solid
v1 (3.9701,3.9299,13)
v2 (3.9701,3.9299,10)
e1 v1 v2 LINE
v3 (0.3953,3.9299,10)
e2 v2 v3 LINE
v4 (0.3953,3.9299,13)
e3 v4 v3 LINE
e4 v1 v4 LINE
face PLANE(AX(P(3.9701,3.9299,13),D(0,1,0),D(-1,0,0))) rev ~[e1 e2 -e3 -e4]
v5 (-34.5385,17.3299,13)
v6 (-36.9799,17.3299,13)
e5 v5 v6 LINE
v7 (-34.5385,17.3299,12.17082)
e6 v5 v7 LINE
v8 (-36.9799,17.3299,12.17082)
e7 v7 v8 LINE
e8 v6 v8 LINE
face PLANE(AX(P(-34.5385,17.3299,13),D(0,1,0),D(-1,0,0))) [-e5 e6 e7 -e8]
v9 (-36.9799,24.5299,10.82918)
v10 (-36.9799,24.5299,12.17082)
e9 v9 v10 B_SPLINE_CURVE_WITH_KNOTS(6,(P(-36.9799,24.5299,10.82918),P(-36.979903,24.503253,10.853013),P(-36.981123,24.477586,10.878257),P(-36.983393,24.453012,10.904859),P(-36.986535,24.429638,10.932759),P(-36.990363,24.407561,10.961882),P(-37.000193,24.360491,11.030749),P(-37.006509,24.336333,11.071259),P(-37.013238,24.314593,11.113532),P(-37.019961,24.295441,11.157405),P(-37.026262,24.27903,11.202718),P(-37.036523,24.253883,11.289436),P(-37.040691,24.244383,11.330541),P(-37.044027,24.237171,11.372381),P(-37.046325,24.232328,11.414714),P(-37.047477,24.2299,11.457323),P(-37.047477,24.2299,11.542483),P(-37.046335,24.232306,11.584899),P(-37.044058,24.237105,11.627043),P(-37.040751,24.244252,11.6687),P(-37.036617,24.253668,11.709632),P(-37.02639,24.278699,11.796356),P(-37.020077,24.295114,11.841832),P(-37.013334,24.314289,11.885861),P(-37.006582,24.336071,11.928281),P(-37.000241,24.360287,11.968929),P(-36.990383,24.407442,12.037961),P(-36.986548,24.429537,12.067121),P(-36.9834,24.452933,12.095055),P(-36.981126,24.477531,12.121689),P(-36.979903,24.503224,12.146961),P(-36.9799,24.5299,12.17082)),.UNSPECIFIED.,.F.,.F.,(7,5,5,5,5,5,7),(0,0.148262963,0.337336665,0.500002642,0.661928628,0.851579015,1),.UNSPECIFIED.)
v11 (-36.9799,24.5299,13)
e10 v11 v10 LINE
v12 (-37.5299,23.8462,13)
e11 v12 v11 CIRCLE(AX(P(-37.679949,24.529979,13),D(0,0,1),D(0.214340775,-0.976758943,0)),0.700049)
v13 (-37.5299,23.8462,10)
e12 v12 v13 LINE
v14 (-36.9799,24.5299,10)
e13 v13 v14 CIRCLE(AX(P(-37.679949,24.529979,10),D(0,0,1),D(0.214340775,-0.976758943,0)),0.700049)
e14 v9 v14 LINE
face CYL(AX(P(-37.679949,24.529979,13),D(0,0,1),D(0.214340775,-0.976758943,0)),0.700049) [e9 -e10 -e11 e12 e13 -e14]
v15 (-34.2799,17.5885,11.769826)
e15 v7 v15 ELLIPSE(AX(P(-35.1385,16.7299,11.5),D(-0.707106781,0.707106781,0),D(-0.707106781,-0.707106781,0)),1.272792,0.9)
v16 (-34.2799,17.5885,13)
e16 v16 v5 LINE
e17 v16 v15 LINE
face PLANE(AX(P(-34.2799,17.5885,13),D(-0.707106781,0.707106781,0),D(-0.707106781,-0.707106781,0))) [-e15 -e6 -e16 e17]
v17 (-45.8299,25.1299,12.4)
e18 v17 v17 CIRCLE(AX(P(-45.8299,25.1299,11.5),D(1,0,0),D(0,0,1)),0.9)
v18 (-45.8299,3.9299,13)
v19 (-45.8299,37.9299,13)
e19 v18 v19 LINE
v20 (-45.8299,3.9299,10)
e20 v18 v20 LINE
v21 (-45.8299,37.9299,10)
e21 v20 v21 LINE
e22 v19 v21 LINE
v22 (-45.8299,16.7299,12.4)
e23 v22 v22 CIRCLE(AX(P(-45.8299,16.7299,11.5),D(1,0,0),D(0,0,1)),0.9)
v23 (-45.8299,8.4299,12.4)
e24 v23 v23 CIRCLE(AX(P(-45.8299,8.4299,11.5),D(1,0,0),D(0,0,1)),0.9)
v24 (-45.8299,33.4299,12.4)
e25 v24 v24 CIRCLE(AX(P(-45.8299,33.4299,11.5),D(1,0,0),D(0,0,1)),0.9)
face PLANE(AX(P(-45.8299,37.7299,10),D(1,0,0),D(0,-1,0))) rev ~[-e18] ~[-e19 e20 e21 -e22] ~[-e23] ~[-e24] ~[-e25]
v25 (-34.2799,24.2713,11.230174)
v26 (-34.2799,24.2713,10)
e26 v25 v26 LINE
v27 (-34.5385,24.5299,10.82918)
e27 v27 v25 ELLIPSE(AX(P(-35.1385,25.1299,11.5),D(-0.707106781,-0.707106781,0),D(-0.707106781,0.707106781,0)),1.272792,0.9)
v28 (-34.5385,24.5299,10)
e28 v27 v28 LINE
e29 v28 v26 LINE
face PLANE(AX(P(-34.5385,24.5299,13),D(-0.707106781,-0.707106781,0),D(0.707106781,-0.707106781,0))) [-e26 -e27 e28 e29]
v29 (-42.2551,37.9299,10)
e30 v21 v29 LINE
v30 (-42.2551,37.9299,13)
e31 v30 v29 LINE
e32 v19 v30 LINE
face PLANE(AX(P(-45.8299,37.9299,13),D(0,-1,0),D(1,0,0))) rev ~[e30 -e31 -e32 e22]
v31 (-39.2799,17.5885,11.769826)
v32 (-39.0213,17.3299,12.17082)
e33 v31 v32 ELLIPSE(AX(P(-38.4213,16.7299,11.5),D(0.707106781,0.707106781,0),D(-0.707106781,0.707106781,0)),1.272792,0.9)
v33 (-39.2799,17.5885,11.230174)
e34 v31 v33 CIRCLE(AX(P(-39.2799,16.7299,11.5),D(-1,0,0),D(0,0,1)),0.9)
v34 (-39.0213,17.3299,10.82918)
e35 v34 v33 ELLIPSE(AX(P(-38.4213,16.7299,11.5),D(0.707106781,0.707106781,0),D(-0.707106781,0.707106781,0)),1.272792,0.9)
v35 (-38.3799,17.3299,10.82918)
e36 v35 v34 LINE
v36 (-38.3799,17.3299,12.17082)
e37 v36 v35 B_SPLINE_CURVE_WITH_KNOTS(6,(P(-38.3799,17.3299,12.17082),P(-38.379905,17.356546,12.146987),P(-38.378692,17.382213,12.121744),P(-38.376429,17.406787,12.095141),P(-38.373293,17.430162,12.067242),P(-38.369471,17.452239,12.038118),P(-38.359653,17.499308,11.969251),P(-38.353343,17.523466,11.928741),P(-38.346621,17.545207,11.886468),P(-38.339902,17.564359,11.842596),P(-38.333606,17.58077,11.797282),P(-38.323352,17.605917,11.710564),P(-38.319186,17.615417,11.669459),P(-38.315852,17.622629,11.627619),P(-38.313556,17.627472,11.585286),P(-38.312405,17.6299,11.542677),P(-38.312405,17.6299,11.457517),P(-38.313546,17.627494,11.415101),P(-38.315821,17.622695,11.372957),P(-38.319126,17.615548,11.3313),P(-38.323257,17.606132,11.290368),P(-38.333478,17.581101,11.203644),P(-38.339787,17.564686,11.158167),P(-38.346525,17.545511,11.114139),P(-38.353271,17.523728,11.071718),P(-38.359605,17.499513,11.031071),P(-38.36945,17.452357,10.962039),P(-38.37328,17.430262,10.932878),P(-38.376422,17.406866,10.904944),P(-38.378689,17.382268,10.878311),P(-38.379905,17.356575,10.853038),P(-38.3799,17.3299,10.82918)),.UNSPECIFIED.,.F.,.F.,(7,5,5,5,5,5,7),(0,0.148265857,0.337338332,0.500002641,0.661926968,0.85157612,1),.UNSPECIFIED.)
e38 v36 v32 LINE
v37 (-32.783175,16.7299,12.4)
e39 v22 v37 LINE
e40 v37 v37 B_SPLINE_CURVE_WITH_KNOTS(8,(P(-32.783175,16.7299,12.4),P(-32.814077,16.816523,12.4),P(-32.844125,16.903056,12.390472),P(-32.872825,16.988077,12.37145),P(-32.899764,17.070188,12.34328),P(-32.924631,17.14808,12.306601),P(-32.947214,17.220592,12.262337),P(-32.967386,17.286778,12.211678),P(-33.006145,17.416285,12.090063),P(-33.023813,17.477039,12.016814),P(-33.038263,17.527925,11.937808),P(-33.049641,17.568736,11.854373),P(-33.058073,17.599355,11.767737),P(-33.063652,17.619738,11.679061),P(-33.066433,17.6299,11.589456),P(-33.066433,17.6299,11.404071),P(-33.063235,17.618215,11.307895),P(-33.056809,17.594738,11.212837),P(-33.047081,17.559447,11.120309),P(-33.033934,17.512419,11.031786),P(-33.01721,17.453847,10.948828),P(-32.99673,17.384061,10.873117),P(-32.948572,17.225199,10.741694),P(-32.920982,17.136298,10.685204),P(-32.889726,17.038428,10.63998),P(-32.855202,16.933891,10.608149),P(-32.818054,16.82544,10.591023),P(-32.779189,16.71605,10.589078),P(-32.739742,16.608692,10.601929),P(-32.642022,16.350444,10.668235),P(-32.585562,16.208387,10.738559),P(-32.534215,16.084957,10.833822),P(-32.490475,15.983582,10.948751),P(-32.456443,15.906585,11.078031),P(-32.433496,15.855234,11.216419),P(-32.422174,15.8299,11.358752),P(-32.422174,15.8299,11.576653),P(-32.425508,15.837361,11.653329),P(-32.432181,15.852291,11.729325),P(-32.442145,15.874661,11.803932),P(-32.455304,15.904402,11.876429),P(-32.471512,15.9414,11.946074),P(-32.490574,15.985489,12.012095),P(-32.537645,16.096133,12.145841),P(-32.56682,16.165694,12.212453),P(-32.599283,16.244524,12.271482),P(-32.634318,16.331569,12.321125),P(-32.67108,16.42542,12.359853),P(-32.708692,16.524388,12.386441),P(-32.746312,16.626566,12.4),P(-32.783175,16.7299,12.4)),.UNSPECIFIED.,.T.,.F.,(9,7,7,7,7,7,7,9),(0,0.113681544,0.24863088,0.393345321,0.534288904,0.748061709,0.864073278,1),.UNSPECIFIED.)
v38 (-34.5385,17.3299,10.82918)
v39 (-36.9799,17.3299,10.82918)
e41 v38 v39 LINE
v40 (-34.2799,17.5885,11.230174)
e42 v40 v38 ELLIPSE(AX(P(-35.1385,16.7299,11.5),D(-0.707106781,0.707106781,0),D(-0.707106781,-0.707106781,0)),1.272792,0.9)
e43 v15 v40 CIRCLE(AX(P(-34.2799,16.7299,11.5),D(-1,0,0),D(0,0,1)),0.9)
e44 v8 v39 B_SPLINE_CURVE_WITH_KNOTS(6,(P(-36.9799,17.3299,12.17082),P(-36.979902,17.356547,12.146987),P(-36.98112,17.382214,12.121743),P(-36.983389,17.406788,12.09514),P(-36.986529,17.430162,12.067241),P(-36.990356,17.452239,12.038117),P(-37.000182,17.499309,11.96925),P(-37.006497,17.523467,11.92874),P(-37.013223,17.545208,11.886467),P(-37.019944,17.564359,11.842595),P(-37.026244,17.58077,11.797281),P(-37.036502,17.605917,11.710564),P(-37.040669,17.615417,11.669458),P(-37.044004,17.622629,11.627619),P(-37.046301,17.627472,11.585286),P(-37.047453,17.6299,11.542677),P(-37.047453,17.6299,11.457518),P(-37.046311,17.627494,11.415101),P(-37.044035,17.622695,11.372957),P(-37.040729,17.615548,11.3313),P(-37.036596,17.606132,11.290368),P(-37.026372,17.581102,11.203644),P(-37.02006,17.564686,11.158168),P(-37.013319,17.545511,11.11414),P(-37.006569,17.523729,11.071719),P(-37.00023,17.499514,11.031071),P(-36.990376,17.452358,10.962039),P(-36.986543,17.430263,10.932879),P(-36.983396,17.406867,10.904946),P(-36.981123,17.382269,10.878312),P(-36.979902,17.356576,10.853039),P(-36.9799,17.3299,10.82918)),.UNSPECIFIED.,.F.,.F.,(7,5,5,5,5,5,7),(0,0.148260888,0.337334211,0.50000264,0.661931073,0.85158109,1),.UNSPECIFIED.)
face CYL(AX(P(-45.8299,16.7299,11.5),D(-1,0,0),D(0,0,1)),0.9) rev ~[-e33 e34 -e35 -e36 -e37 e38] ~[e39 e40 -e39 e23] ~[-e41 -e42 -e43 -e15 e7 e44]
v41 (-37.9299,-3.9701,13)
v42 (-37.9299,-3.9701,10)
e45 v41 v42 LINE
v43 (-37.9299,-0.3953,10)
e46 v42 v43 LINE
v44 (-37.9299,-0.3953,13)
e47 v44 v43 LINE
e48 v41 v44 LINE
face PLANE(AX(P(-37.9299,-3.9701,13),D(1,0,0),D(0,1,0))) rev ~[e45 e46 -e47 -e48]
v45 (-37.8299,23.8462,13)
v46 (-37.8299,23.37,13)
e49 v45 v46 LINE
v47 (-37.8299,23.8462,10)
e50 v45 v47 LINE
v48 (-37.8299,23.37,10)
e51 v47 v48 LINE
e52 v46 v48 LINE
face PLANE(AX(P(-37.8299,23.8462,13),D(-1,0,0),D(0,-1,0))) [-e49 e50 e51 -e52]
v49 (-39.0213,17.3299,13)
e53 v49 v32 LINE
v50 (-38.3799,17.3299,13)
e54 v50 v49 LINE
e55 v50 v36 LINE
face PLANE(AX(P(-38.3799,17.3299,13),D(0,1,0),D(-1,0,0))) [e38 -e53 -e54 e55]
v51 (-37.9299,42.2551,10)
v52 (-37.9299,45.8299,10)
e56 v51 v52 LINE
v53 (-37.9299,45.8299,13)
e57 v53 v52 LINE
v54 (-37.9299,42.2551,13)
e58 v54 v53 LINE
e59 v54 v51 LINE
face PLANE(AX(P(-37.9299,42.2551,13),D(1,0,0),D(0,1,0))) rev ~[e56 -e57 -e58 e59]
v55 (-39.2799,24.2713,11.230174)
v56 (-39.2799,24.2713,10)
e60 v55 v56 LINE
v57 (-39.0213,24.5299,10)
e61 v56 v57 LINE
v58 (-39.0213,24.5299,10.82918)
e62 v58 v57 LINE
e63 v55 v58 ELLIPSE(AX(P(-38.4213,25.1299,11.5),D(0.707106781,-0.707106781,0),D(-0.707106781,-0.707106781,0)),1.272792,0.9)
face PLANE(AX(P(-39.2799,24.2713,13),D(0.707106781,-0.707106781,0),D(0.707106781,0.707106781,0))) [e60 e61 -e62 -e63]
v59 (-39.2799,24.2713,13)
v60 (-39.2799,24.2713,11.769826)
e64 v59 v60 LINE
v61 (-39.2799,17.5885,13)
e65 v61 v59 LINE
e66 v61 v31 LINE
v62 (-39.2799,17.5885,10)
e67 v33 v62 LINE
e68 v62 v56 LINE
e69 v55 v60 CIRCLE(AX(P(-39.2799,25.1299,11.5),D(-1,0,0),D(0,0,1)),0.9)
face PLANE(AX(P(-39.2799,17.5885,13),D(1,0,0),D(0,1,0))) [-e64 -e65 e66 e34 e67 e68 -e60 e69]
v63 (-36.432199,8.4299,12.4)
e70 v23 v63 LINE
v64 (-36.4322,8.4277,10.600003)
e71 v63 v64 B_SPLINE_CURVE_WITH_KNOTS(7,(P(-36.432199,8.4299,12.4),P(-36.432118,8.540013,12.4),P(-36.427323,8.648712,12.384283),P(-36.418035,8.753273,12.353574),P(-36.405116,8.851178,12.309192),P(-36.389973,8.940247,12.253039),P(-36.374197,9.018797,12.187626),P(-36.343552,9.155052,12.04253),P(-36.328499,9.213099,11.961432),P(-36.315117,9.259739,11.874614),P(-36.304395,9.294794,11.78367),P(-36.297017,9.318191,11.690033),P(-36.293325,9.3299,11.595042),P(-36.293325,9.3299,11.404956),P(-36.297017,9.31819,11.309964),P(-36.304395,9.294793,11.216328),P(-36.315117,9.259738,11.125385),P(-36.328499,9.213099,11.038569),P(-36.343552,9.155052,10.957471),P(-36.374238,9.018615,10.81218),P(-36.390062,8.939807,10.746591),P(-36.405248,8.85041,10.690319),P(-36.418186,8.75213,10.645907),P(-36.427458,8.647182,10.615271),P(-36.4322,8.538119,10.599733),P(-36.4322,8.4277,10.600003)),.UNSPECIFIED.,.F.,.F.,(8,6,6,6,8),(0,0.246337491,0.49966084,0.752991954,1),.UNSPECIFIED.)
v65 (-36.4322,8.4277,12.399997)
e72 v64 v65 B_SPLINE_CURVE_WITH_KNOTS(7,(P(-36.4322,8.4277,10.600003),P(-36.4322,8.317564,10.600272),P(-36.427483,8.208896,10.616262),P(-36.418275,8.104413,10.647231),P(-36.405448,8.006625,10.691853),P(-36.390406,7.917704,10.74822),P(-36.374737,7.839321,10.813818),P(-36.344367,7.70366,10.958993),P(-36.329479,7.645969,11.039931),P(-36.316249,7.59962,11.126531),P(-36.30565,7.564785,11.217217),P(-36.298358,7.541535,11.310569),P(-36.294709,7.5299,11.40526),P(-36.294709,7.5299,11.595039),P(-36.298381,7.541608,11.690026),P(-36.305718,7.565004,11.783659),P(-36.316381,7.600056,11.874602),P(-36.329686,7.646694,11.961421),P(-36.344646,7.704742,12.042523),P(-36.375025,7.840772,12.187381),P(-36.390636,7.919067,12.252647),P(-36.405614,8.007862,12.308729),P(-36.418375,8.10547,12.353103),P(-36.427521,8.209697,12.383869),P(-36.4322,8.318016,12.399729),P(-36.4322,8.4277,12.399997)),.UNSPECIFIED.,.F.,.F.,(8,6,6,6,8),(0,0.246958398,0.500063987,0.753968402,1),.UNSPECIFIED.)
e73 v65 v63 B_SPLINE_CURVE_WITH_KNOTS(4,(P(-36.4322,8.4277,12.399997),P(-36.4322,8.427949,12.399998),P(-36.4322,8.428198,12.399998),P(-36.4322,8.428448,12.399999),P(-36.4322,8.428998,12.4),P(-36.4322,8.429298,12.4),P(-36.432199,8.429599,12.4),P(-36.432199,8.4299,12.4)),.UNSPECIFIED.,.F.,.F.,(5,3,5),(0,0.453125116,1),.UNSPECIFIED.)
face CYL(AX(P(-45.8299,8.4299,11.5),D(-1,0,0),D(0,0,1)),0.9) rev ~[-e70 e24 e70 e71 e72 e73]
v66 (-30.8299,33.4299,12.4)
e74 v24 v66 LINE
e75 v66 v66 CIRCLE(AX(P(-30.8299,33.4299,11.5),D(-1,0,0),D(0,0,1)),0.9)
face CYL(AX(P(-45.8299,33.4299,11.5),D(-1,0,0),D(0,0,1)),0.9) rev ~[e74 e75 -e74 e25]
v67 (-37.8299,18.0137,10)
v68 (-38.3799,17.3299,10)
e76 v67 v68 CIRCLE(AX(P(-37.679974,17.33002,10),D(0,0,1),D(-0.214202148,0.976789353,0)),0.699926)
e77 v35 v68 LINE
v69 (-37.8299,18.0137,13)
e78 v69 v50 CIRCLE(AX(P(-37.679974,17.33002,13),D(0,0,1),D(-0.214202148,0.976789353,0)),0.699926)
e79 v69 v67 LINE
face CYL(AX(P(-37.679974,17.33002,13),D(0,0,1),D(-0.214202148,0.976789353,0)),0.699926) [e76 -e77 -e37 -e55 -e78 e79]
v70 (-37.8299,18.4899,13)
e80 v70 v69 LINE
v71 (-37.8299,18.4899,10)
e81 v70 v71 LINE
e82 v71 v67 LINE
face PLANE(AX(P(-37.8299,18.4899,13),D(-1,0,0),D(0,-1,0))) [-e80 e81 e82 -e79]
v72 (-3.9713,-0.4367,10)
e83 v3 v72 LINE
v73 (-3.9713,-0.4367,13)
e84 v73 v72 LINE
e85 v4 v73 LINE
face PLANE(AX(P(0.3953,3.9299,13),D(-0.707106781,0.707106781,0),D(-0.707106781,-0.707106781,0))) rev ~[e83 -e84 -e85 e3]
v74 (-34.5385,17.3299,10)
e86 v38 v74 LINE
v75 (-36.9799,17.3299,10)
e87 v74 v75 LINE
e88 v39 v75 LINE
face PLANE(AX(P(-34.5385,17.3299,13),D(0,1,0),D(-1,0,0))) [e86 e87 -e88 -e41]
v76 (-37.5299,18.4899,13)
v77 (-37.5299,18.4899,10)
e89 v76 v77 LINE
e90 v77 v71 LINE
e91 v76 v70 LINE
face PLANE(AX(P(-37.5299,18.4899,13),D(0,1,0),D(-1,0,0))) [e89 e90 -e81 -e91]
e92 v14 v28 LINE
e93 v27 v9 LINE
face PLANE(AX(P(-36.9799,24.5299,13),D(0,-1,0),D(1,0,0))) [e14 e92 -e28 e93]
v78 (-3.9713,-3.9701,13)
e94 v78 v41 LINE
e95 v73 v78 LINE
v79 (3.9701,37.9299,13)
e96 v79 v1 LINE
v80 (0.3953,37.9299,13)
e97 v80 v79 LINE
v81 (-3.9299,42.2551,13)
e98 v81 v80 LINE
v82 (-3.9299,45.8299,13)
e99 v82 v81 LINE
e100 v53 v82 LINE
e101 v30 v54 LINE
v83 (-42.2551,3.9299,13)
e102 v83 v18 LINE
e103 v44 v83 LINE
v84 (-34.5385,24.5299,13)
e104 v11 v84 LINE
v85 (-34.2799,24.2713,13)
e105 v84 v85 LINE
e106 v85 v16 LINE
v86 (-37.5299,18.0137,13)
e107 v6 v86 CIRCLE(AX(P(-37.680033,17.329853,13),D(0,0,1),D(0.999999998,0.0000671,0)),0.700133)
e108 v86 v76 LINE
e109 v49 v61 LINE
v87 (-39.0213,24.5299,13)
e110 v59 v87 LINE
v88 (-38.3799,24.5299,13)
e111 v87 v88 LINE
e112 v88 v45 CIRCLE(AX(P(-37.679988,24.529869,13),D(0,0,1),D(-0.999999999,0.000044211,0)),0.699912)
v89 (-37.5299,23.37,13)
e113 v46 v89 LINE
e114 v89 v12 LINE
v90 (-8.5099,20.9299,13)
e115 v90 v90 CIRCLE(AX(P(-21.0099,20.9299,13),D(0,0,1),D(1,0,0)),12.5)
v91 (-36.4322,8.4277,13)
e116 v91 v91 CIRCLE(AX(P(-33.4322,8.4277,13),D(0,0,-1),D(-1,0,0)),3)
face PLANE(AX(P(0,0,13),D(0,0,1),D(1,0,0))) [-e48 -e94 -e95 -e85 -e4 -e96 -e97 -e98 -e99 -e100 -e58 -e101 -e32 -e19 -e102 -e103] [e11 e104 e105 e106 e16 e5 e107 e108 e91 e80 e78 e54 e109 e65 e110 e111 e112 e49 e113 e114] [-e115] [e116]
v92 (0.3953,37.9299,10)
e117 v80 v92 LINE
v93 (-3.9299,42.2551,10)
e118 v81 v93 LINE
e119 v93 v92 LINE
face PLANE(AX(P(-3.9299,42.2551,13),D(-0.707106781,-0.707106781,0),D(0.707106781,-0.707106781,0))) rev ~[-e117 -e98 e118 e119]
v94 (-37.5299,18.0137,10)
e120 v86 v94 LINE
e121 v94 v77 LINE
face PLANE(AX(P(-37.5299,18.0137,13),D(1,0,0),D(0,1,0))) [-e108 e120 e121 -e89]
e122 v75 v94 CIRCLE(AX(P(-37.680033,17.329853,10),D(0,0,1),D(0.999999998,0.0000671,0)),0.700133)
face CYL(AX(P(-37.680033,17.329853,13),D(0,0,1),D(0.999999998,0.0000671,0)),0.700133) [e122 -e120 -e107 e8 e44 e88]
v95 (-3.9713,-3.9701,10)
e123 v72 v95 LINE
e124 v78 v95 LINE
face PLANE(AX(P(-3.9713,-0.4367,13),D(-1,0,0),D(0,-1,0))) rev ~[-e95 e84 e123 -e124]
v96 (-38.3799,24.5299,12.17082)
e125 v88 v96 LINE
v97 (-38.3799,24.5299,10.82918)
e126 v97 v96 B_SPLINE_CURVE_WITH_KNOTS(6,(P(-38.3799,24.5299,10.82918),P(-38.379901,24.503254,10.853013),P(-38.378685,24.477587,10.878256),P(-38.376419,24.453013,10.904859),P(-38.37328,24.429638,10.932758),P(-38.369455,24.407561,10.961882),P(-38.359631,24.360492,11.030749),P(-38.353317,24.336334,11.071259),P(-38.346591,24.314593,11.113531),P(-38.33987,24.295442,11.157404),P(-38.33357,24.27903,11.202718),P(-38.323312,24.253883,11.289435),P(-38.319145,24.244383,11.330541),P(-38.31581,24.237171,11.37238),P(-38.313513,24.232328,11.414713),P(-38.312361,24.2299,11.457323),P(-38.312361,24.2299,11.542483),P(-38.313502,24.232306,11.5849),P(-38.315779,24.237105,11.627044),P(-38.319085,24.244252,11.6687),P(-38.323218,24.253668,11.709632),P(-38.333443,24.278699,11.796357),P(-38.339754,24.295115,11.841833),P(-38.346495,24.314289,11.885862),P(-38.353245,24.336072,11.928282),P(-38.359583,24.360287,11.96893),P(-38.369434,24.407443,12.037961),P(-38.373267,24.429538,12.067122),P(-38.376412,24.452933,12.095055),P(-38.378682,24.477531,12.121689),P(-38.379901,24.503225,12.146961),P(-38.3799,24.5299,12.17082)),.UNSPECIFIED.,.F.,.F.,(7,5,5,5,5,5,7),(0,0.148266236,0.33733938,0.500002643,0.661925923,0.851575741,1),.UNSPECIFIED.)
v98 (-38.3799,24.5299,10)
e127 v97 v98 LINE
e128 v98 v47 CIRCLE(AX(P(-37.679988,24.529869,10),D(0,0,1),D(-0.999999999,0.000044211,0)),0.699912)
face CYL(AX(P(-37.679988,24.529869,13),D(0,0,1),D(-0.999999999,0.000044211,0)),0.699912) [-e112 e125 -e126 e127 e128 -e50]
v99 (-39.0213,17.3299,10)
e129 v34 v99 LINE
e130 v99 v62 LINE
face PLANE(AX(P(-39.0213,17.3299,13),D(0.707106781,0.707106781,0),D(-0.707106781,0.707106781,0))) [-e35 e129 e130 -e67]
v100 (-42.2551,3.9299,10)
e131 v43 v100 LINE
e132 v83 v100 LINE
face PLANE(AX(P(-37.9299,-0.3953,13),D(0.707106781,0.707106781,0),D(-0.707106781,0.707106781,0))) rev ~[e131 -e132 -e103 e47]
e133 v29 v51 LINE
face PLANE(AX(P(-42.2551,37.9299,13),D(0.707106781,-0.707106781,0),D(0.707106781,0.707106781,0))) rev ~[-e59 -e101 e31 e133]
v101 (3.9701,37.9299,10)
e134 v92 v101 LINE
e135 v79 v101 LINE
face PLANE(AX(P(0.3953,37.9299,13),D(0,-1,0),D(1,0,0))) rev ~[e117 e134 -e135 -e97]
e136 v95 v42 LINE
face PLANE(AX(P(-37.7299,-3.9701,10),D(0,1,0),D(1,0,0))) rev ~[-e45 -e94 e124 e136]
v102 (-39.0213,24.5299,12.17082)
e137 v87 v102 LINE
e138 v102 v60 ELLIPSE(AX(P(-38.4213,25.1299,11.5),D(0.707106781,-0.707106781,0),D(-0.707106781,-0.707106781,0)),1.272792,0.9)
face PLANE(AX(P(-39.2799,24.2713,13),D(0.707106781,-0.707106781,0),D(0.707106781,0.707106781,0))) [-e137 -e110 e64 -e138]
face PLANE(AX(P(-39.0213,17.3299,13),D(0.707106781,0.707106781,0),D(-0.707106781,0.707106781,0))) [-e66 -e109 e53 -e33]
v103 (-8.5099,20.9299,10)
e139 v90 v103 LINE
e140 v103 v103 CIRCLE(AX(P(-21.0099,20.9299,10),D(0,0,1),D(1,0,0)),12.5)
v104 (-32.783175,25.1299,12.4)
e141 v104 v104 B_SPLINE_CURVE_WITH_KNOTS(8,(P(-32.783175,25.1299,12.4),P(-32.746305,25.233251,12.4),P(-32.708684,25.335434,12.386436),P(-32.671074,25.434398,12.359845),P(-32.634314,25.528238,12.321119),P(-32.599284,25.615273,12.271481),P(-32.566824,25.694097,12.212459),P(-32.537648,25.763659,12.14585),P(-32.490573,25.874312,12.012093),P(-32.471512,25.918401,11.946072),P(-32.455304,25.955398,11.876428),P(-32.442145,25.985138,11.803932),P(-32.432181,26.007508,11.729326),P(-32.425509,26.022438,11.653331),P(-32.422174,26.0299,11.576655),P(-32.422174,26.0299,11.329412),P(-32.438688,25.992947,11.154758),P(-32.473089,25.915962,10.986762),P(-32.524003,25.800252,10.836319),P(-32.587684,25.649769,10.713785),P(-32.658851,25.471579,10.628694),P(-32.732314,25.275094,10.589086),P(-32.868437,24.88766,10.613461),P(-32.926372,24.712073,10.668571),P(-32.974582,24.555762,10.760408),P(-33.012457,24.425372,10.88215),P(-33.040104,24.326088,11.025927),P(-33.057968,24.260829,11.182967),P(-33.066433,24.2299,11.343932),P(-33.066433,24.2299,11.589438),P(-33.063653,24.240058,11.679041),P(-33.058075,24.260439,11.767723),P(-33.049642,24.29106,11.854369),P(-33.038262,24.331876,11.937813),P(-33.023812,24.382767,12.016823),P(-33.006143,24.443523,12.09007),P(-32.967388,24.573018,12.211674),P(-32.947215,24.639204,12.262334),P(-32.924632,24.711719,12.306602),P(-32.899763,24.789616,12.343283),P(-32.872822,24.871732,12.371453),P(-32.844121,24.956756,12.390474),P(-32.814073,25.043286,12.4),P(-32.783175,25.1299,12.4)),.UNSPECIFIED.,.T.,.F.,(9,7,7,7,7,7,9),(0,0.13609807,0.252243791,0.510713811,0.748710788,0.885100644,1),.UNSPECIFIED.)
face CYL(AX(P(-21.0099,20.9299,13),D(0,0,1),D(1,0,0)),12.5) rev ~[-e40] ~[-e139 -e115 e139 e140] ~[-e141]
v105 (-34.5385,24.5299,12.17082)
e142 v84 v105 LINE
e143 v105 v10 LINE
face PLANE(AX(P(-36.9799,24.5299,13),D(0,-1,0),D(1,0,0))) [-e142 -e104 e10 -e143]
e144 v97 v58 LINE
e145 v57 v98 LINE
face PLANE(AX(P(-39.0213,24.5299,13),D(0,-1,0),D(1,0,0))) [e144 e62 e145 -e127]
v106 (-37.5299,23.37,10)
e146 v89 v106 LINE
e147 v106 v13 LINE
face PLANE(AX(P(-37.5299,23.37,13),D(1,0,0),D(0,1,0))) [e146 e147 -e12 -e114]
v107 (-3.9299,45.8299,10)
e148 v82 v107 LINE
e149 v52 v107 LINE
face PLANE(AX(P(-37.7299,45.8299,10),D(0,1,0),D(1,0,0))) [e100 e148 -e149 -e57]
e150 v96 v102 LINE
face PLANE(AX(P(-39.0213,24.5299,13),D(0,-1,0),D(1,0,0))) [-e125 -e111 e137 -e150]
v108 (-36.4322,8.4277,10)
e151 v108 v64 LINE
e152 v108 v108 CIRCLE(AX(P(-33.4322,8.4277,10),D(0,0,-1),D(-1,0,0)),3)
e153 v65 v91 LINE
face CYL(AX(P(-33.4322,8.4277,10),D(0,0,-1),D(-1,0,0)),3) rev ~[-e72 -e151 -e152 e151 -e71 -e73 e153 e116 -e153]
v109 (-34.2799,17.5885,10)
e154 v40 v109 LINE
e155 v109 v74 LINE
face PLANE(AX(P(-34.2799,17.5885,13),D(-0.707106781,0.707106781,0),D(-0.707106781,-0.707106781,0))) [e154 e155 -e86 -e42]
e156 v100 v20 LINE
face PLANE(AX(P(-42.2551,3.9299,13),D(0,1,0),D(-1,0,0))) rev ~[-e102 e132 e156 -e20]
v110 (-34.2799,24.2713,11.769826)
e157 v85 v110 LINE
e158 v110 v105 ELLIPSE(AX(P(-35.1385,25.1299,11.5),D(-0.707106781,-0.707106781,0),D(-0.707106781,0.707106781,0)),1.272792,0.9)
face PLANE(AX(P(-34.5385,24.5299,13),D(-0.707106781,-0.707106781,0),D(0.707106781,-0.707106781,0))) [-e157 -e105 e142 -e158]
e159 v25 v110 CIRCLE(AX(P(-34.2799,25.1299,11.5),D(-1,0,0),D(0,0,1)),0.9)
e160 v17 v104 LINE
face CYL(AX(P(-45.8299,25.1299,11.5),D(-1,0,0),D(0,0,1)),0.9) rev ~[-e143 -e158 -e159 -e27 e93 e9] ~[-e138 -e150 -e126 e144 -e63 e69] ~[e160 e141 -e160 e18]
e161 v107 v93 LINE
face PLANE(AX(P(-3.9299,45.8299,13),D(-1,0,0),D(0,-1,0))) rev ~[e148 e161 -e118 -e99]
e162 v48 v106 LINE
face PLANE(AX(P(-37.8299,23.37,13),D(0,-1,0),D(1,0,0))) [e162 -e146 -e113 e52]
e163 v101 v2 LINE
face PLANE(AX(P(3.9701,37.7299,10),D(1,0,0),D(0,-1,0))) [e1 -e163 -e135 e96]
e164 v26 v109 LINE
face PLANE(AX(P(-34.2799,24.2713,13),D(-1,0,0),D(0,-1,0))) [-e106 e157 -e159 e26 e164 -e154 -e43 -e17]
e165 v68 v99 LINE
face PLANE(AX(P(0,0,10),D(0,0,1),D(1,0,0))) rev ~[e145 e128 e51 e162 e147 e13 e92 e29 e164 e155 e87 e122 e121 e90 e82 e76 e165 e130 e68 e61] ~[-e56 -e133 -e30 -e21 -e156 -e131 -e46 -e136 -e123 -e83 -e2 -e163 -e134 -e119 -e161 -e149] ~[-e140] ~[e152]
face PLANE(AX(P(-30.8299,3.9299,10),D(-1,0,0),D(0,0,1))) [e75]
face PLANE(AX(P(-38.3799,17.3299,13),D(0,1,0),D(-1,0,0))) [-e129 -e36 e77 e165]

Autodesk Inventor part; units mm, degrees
ref_plane "YZ Plane" through (0, 0, 0) normal (1, 0, 0) x (0, 1, 0)
ref_plane "XZ Plane" through (0, 0, 0) normal (0, 1, 0) x (-1, 0, 0)
ref_plane "Work Plane1" through (0, 0, 10) normal (0, 0, 1) x (1, 0, 0)
sketch "Sketch1" plane through (0, 0, 10) normal (0, 0, 1) x (1, 0, 0)
  line L0 (-4.0299, -0.3538) -> (-2.2322, 1.4439) construction
  arc A0 (-1.4439, 2.2322) -> (-2.2322, 1.4439) centre (-0.9299, 0.9299) ccw construction
  line L1 (-1.4439, 2.2322) -> (0.3538, 4.0299) construction
  line L2 (-37.8299, 42.8299) -> (-37.8299, 37.8299) construction
  line L3 (-37.8299, 37.8299) -> (-42.9208, 37.8299) construction
  line L4 (-37.8299, 42.2137) -> (-37.8299, 45.8299) construction
  line L5 (-37.8299, 45.8299) -> (-4.0299, 45.8299) construction
  line L6 (-4.0299, 45.8299) -> (-4.0299, 42.2137) construction
  line L7 (-4.0299, 4.0299) -> (0.3538, 4.0299) projected
  circle A1 centre (-20.9299, 20.9299) radius 17.5 projected
  line L8 (-20.9299, 58.9723) -> (17.1124, 20.9299) construction
  line L9 (17.1124, 20.9299) -> (-20.9299, -17.1124) construction
  line L10 (-20.9299, -17.1124) -> (-58.9723, 20.9299) construction
  line L11 (-58.9723, 20.9299) -> (-20.9299, 58.9723) construction
  line L12 (-20.9299, 58.9723) -> (-20.9299, -17.1124) construction
  line L13 (17.1124, 20.9299) -> (-58.9723, 20.9299) construction
  line L14 (-20.9299, 58.9723) -> (32.8701, 58.9723) construction
  line L15 (-43.4299, 43.4299) -> (1.5701, 43.4299) construction
  line L16 (1.5701, 43.4299) -> (1.5701, -1.5701) construction
  line L17 (1.5701, -1.5701) -> (-43.4299, -1.5701) construction
  line L18 (-43.4299, -1.5701) -> (-43.4299, 43.4299) construction
  line L19 (-43.4299, 43.4299) -> (1.5701, -1.5701) construction
  line L20 (1.5701, 43.4299) -> (-43.4299, -1.5701) construction
  line L21 (-43.4299, 5.3876) -> (-43.4299, 36.4723)
  line L22 (-43.4299, 36.4723) -> (-36.4723, 43.4299)
  line L23 (-36.4723, 43.4299) -> (-5.3876, 43.4299)
  line L24 (-5.3876, 43.4299) -> (1.5701, 36.4723)
  line L25 (1.5701, 36.4723) -> (1.5701, 5.3876)
  line L26 (1.5701, 5.3876) -> (-5.3876, -1.5701)
  line L27 (-5.3876, -1.5701) -> (-36.4723, -1.5701)
  line L28 (-36.4723, -1.5701) -> (-43.4299, 5.3876)
  line L29 (-4.0299, 42.2137) -> (-37.8299, 42.2137) projected
  line L30 (-4.0299, -0.3538) -> (-4.0299, 4.0299) projected
  circle A2 centre (-20.9299, 20.9299) radius 1.5
  line L31 (-10.9299, 10.9299) -> (-30.9299, 10.9299) construction
  line L32 (-30.9299, 10.9299) -> (-30.9299, 30.9299) construction
  line L33 (-30.9299, 30.9299) -> (-10.9299, 30.9299) construction
  line L34 (-10.9299, 30.9299) -> (-10.9299, 10.9299) construction
  line L35 (-10.9299, 10.9299) -> (-30.9299, 30.9299) construction
  line L36 (-30.9299, 10.9299) -> (-10.9299, 30.9299) construction
  circle A3 centre (-30.9299, 30.9299) radius 1.4
  circle A4 centre (-30.9299, 10.9299) radius 1.4
  circle A5 centre (-10.9299, 10.9299) radius 1.4
  line L37 (-45.8299, 37.8299) -> (-42.0723, 37.8299) construction
  line L38 (-42.1723, 37.7299) -> (-45.8299, 37.7299)
  line L39 (-45.8299, 37.7299) -> (-45.8299, 4.1299)
  line L40 (-45.8299, 4.1299) -> (-42.1723, 4.1299)
  line L41 (-42.1723, 4.1299) -> (-42.1723, 37.7299)
  line L42 (-45.8299, 4.0299) -> (-42.0723, 4.0299) construction
  line L43 (-45.8299, 37.8299) -> (-42.0723, 37.8299) projected
  line L44 (-37.7299, 45.8299) -> (-4.1299, 45.8299)
  line L45 (-4.1299, 45.8299) -> (-4.1299, 42.1723)
  line L46 (-4.1299, 42.1723) -> (-37.7299, 42.1723)
  line L47 (-37.7299, 42.1723) -> (-37.7299, 45.8299)
  line L48 (0.4701, 37.8299) -> (0.4701, 4.0299) construction
  line L49 (0.4701, 4.0299) -> (3.9701, 4.0299) construction
  line L50 (3.9701, 37.8299) -> (3.9701, 4.0299) construction
  line L51 (0.4701, 37.8299) -> (3.9701, 37.8299) construction
  line L52 (-45.8299, -3.9701) -> (-4.0299, -3.9701) construction
  line L53 (0.3124, 37.7299) -> (3.9701, 37.7299)
  line L54 (3.9701, 37.7299) -> (3.9701, 4.1299)
  line L55 (3.9701, 4.1299) -> (0.3124, 4.1299)
  line L56 (0.3124, 4.1299) -> (0.3124, 37.7299)
  line L57 (-4.1713, -0.3538) -> (-37.7299, -0.3538)
  line L58 (-37.7299, -0.3538) -> (-37.7299, -3.9701)
  line L59 (-37.7299, -3.9701) -> (-4.1713, -3.9701)
  line L60 (-4.1713, -3.9701) -> (-4.1713, -0.3538)
  point P0 (-37.8299, 4.0299)
  dimension "d18" = 53.8
  dimension "d19" = 45
  dimension "d20" = 53.8
  dimension "d21" = 45
  dimension "d22" = 45
  dimension "d30" = 20
  dimension "d31" = 20
  dimension "d32" = 2.8
  dimension "d33" = 2.8
  dimension "d34" = 2.8
  dimension "d35" = 3
  dimension "d36" = 0.1
  dimension "d37" = 0.1
  dimension "d38" = 0.1
  dimension "d39" = 0.1
extrude "Extrusion1" add sketch "Sketch1" along normal blind 3 contours L30 L26 L57 L28 L41 L22 L46 L24 L56 L7 | L7 L26 L30 | L56 L24 L25 L26 | L26 L25 L24 L53 L54 L55 | L60 L59 L58 L57 L28 L27 L26 | L26 L27 L28 L57 | L46 L22 L29 L24 | L24 L29 L45 | L40 L39 L38 L22 L21 L28 | L28 L21 L22 L41 | L29 L22 L23 L24 | L24 L23 L22 L29 L47 L44 L45 | L47 L29 L22 | A1 | A2 | A3 | A4 | A5
sketch "Skizze4" plane through (0, 0, 13) normal (0, 0, 1) x (1, 0, 0)
  line L0 (-37.7299, 42.1723) -> (-42.1723, 37.7299) projected
  line L1 (-42.1723, 37.7299) -> (-45.8299, 37.7299) projected
  line L2 (-45.8299, 37.7299) -> (-45.8299, 4.1299) construction
  line L3 (-45.8299, 4.1299) -> (-42.1723, 4.1299) projected
  line L4 (-42.1723, 4.1299) -> (-37.6885, -0.3538) projected
  line L5 (-37.6885, -0.3538) -> (-37.7299, -0.3538) projected
  line L6 (-37.7299, -0.3538) -> (-37.7299, -3.9701) projected
  line L7 (-37.7299, -3.9701) -> (-4.1713, -3.9701) construction
  line L8 (-4.1713, -3.9701) -> (-4.1713, -0.3538) projected
  line L9 (-4.1713, -0.3538) -> (0.3124, 4.1299) projected
  line L10 (0.3124, 4.1299) -> (3.9701, 4.1299) projected
  line L11 (3.9701, 4.1299) -> (3.9701, 37.7299) construction
  line L12 (3.9701, 37.7299) -> (0.3124, 37.7299) projected
  line L13 (0.3124, 37.7299) -> (-4.1299, 42.1723) projected
  line L14 (-4.1299, 42.1723) -> (-4.1299, 45.8299) projected
  line L15 (-4.1299, 45.8299) -> (-37.7299, 45.8299) construction
  line L16 (-37.7299, 45.8299) -> (-37.7299, 42.1723) projected
  line L17 (-37.9299, 46.0299) -> (-3.9299, 46.0299) construction
  line L18 (-3.9299, 46.0299) -> (-3.9299, 42.2551)
  line L19 (-3.9299, 42.2551) -> (0.3953, 37.9299)
  line L20 (0.3953, 37.9299) -> (4.1701, 37.9299)
  line L21 (4.1701, 37.9299) -> (4.1701, 3.9299) construction
  line L22 (4.1701, 3.9299) -> (0.3953, 3.9299)
  line L23 (0.3953, 3.9299) -> (-3.9713, -0.4367)
  line L24 (-3.9713, -0.4367) -> (-3.9713, -4.1701)
  line L25 (-3.9713, -4.1701) -> (-37.9299, -4.1701) construction
  line L26 (-37.9299, -4.1701) -> (-37.9299, -0.3953)
  line L27 (-37.9299, -0.3953) -> (-42.2551, 3.9299)
  line L28 (-42.2551, 3.9299) -> (-46.0299, 3.9299)
  line L29 (-46.0299, 3.9299) -> (-46.0299, 37.9299) construction
  line L30 (-46.0299, 37.9299) -> (-42.2551, 37.9299)
  line L31 (-42.2551, 37.9299) -> (-37.9299, 42.2551)
  line L32 (-37.9299, 42.2551) -> (-37.9299, 46.0299)
  line L33 (-45.8299, 37.7299) -> (-45.8299, 37.9299)
  line L34 (-4.1299, 45.8299) -> (-37.7299, 45.8299) projected
  line L35 (-37.7299, 45.8299) -> (-37.9299, 45.8299)
  line L36 (-4.1299, 45.8299) -> (-3.9299, 45.8299)
  line L37 (3.9701, 37.7299) -> (3.9701, 37.9299)
  line L38 (3.9701, 4.1299) -> (3.9701, 37.7299) projected
  line L39 (3.9701, 4.1299) -> (3.9701, 3.9299)
  line L40 (-4.1713, -3.9701) -> (-3.9713, -3.9701)
  line L41 (-37.7299, -3.9701) -> (-37.9299, -3.9701)
  line L42 (-45.8299, 4.1299) -> (-45.8299, 3.9299)
  point P0 (0, 0)
  dimension "d40" = 0.2
extrude "IM_offset" add sketch "Skizze4" against normal up to surface (3 mm away)
ref_plane "Arbeitsebene5" through (-20.9299, 3.9299, 10) normal (1, 0, 0) x (0, 0, -1)
ref_plane "Arbeitsebene6" through (-37.9299, 20.9299, 10) normal (0, 1, 0) x (1, 0, 0)
sketch "Skizze25" plane through (0, 0, 13) normal (0, 0, 1) x (1, 0, 0)
  arc A0 (-37.9299, 18.0899) -> (-38.4737, 17.4299) centre (-37.6799, 17.3299) ccw projected
  line L0 (-37.9299, 18.0899) -> (-37.9299, 18.5899) projected
  line L1 (-37.9299, 18.5899) -> (-37.4299, 18.5899) projected
  line L2 (-37.4299, 18.5899) -> (-37.4299, 18.0899) projected
  arc A1 (-36.8862, 17.4299) -> (-37.4299, 18.0899) centre (-37.6799, 17.3299) ccw projected
  line L3 (-36.8862, 17.4299) -> (-34.5799, 17.4299) projected
  line L4 (-34.5799, 17.4299) -> (-34.3799, 17.6299) projected
  line L5 (-34.3799, 17.6299) -> (-34.3799, 24.2299) projected
  line L6 (-34.3799, 24.2299) -> (-34.5799, 24.4299) projected
  line L7 (-34.5799, 24.4299) -> (-36.8862, 24.4299) projected
  arc A2 (-37.4299, 23.77) -> (-36.8862, 24.4299) centre (-37.6799, 24.5299) ccw projected
  line L8 (-37.4299, 23.77) -> (-37.4299, 23.27) projected
  line L9 (-37.4299, 23.27) -> (-37.9299, 23.27) projected
  line L10 (-37.9299, 23.27) -> (-37.9299, 23.77) projected
  arc A3 (-38.4737, 24.4299) -> (-37.9299, 23.77) centre (-37.6799, 24.5299) ccw projected
  line L11 (-38.4737, 24.4299) -> (-38.9799, 24.4299) projected
  line L12 (-38.9799, 24.4299) -> (-39.1799, 24.2299) projected
  line L13 (-39.1799, 24.2299) -> (-39.1799, 17.6299) projected
  line L14 (-39.1799, 17.6299) -> (-38.9799, 17.4299) projected
  line L15 (-38.9799, 17.4299) -> (-38.4737, 17.4299) projected
  line L16 (-34.2799, 24.2713) -> (-34.2799, 17.5885)
  line L17 (-34.2799, 17.5885) -> (-34.5385, 17.3299)
  line L18 (-34.5385, 17.3299) -> (-36.9799, 17.3299)
  arc A4 (-36.9799, 17.3299) -> (-37.5299, 18.0137) centre (-37.6799, 17.3299) ccw
  line L19 (-37.5299, 18.0137) -> (-37.5299, 18.4899)
  line L20 (-37.5299, 18.4899) -> (-37.8299, 18.4899)
  line L21 (-37.8299, 18.4899) -> (-37.8299, 18.0137)
  arc A5 (-37.8299, 18.0137) -> (-38.3799, 17.3299) centre (-37.6799, 17.3299) ccw
  line L22 (-38.3799, 17.3299) -> (-39.0213, 17.3299)
  line L23 (-39.0213, 17.3299) -> (-39.2799, 17.5885)
  line L24 (-39.2799, 17.5885) -> (-39.2799, 24.2713)
  line L25 (-39.2799, 24.2713) -> (-39.0213, 24.5299)
  line L26 (-39.0213, 24.5299) -> (-38.3799, 24.5299)
  arc A6 (-38.3799, 24.5299) -> (-37.8299, 23.8462) centre (-37.6799, 24.5299) ccw
  line L27 (-37.8299, 23.8462) -> (-37.8299, 23.37)
  line L28 (-37.8299, 23.37) -> (-37.5299, 23.37)
  line L29 (-37.5299, 23.37) -> (-37.5299, 23.8462)
  arc A7 (-37.5299, 23.8462) -> (-36.9799, 24.5299) centre (-37.6799, 24.5299) ccw
  line L30 (-36.9799, 24.5299) -> (-34.5385, 24.5299)
  line L31 (-34.5385, 24.5299) -> (-34.2799, 24.2713)
  circle A8 centre (-21.0099, 20.9299) radius 10.125 projected
  circle A9 centre (-21.0099, 20.9299) radius 12.5
  point P0 (0, 0)
  dimension "d150" = 0.1
  dimension "d151" = 25
extrude "Extrusion21" cut sketch "Skizze25" against normal blind 3 contours A0 L15 L14 L13 L12 L11 A3 L10 L9 L8 A2 L7 L6 L5 L4 L3 A1 L2 L1 L0 | L16 L17 L18 A4 L19 L20 L21 A5 L22 L23 L24 L25 L26 A6 L27 L28 L29 A7 L30 L31 | A8 | A9
sketch "Skizze26" plane through (-45.8299, 3.9299, 10) normal (-1, 0, 0) x (0, 0, 1)
  line L0 (0, 0) -> (0, 34) projected
  line L1 (3, 0) -> (0, 0) projected
  line L2 (3, 34) -> (3, 0) projected
  line L3 (3, 34) -> (0, 34) projected
  line L4 (3, 29.5) -> (0, 29.5) projected
  circle A0 centre (1.5, 29.5) radius 0.9
  line L5 (3, 4.5) -> (0, 4.5) projected
  circle A1 centre (1.5, 4.5) radius 0.9
  line L6 (36.97, 20.3) -> (-3.03, 20.3) projected
  line L7 (36.97, 13.7) -> (-3.03, 13.7) projected
  circle A2 centre (1.5, 21.2) radius 0.9
  circle A3 centre (1.5, 12.8) radius 0.9
  point P0 (-10, -3.9299)
  dimension "d154" = 1.8
  dimension "d155" = 1.8
  dimension "d158" = 1.8
  dimension "d159" = 1.8
extrude "Extrusion22" cut sketch "Skizze26" against normal blind 15 contours A3 | A1 L5 | L5 A1 | A2 | A0 L4 | L4 A0
sketch "Skizze27" plane through (0, 0, 10) normal (0, 0, -1) x (-1, 0, 0)
  arc A0 (36.9799, 24.5299) -> (37.5299, 23.8462) centre (37.6799, 24.5299) ccw projected
  line L0 (37.5299, 23.8462) -> (37.5299, 23.37) projected
  line L1 (37.5299, 23.37) -> (37.8299, 23.37) projected
  line L2 (37.8299, 23.37) -> (37.8299, 23.8462) projected
  arc A1 (37.8299, 23.8462) -> (38.3799, 24.5299) centre (37.6799, 24.5299) ccw projected
  line L3 (38.3799, 24.5299) -> (39.0213, 24.5299) projected
  line L4 (39.0213, 24.5299) -> (39.2799, 24.2713) projected
  line L5 (39.2799, 24.2713) -> (39.2799, 17.5885) projected
  line L6 (39.2799, 17.5885) -> (39.0213, 17.3299) projected
  line L7 (39.0213, 17.3299) -> (38.3799, 17.3299) projected
  arc A2 (38.3799, 17.3299) -> (37.8299, 18.0137) centre (37.6799, 17.3299) ccw projected
  line L8 (37.8299, 18.0137) -> (37.8299, 18.4899) projected
  line L9 (37.8299, 18.4899) -> (37.5299, 18.4899) projected
  line L10 (37.5299, 18.4899) -> (37.5299, 18.0137) projected
  arc A3 (37.5299, 18.0137) -> (36.9799, 17.3299) centre (37.6799, 17.3299) ccw projected
  line L11 (36.9799, 17.3299) -> (34.5385, 17.3299) projected
  line L12 (34.5385, 17.3299) -> (34.2799, 17.5885) projected
  line L13 (34.2799, 17.5885) -> (34.2799, 24.2713) projected
  line L14 (34.2799, 24.2713) -> (34.5385, 24.5299) projected
  line L15 (34.5385, 24.5299) -> (36.9799, 24.5299) projected
  circle A4 centre (21.0099, 20.9299) radius 12.5 projected
  line L16 (3.9713, -3.9701) -> (37.9299, -3.9701) projected
  line L17 (37.9299, -3.9701) -> (37.9299, -0.3953) projected
  line L18 (37.9299, -0.3953) -> (42.2551, 3.9299) projected
  line L19 (42.2551, 3.9299) -> (45.8299, 3.9299) projected
  line L20 (45.8299, 3.9299) -> (45.8299, 37.9299) projected
  line L21 (45.8299, 37.9299) -> (42.2551, 37.9299) projected
  line L22 (42.2551, 37.9299) -> (37.9299, 42.2551) projected
  line L23 (37.9299, 42.2551) -> (37.9299, 45.8299) projected
  line L24 (37.9299, 45.8299) -> (3.9299, 45.8299) projected
  line L25 (3.9299, 45.8299) -> (3.9299, 42.2551) projected
  line L26 (3.9299, 42.2551) -> (-0.3953, 37.9299) projected
  line L27 (-0.3953, 37.9299) -> (-3.9701, 37.9299) projected
  line L28 (-3.9701, 37.9299) -> (-3.9701, 3.9299) projected
  line L29 (-3.9701, 3.9299) -> (-0.3953, 3.9299) projected
  line L30 (-0.3953, 3.9299) -> (3.9713, -0.4367) projected
  line L31 (3.9713, -0.4367) -> (3.9713, -3.9701) projected
  line L32 (37.9799, 3.9599) -> (37.9799, 43.7799) projected
  line L33 (37.9799, 3.9599) -> (3.8799, 3.9599) projected
  circle A5 centre (33.4322, 8.4277) radius 3
  circle A6 centre (33.4322, 8.4277) radius 1.4
  point P0 (0, 0)
  point P1 (35.8514, 12.3014)
  dimension "d160" = 6
extrude "Extrusion23" cut sketch "Skizze27" against normal blind 15 contours A5 | A6
properties part number "20_Cube_Insert_lineartranlator_mgn7_base_v3"
